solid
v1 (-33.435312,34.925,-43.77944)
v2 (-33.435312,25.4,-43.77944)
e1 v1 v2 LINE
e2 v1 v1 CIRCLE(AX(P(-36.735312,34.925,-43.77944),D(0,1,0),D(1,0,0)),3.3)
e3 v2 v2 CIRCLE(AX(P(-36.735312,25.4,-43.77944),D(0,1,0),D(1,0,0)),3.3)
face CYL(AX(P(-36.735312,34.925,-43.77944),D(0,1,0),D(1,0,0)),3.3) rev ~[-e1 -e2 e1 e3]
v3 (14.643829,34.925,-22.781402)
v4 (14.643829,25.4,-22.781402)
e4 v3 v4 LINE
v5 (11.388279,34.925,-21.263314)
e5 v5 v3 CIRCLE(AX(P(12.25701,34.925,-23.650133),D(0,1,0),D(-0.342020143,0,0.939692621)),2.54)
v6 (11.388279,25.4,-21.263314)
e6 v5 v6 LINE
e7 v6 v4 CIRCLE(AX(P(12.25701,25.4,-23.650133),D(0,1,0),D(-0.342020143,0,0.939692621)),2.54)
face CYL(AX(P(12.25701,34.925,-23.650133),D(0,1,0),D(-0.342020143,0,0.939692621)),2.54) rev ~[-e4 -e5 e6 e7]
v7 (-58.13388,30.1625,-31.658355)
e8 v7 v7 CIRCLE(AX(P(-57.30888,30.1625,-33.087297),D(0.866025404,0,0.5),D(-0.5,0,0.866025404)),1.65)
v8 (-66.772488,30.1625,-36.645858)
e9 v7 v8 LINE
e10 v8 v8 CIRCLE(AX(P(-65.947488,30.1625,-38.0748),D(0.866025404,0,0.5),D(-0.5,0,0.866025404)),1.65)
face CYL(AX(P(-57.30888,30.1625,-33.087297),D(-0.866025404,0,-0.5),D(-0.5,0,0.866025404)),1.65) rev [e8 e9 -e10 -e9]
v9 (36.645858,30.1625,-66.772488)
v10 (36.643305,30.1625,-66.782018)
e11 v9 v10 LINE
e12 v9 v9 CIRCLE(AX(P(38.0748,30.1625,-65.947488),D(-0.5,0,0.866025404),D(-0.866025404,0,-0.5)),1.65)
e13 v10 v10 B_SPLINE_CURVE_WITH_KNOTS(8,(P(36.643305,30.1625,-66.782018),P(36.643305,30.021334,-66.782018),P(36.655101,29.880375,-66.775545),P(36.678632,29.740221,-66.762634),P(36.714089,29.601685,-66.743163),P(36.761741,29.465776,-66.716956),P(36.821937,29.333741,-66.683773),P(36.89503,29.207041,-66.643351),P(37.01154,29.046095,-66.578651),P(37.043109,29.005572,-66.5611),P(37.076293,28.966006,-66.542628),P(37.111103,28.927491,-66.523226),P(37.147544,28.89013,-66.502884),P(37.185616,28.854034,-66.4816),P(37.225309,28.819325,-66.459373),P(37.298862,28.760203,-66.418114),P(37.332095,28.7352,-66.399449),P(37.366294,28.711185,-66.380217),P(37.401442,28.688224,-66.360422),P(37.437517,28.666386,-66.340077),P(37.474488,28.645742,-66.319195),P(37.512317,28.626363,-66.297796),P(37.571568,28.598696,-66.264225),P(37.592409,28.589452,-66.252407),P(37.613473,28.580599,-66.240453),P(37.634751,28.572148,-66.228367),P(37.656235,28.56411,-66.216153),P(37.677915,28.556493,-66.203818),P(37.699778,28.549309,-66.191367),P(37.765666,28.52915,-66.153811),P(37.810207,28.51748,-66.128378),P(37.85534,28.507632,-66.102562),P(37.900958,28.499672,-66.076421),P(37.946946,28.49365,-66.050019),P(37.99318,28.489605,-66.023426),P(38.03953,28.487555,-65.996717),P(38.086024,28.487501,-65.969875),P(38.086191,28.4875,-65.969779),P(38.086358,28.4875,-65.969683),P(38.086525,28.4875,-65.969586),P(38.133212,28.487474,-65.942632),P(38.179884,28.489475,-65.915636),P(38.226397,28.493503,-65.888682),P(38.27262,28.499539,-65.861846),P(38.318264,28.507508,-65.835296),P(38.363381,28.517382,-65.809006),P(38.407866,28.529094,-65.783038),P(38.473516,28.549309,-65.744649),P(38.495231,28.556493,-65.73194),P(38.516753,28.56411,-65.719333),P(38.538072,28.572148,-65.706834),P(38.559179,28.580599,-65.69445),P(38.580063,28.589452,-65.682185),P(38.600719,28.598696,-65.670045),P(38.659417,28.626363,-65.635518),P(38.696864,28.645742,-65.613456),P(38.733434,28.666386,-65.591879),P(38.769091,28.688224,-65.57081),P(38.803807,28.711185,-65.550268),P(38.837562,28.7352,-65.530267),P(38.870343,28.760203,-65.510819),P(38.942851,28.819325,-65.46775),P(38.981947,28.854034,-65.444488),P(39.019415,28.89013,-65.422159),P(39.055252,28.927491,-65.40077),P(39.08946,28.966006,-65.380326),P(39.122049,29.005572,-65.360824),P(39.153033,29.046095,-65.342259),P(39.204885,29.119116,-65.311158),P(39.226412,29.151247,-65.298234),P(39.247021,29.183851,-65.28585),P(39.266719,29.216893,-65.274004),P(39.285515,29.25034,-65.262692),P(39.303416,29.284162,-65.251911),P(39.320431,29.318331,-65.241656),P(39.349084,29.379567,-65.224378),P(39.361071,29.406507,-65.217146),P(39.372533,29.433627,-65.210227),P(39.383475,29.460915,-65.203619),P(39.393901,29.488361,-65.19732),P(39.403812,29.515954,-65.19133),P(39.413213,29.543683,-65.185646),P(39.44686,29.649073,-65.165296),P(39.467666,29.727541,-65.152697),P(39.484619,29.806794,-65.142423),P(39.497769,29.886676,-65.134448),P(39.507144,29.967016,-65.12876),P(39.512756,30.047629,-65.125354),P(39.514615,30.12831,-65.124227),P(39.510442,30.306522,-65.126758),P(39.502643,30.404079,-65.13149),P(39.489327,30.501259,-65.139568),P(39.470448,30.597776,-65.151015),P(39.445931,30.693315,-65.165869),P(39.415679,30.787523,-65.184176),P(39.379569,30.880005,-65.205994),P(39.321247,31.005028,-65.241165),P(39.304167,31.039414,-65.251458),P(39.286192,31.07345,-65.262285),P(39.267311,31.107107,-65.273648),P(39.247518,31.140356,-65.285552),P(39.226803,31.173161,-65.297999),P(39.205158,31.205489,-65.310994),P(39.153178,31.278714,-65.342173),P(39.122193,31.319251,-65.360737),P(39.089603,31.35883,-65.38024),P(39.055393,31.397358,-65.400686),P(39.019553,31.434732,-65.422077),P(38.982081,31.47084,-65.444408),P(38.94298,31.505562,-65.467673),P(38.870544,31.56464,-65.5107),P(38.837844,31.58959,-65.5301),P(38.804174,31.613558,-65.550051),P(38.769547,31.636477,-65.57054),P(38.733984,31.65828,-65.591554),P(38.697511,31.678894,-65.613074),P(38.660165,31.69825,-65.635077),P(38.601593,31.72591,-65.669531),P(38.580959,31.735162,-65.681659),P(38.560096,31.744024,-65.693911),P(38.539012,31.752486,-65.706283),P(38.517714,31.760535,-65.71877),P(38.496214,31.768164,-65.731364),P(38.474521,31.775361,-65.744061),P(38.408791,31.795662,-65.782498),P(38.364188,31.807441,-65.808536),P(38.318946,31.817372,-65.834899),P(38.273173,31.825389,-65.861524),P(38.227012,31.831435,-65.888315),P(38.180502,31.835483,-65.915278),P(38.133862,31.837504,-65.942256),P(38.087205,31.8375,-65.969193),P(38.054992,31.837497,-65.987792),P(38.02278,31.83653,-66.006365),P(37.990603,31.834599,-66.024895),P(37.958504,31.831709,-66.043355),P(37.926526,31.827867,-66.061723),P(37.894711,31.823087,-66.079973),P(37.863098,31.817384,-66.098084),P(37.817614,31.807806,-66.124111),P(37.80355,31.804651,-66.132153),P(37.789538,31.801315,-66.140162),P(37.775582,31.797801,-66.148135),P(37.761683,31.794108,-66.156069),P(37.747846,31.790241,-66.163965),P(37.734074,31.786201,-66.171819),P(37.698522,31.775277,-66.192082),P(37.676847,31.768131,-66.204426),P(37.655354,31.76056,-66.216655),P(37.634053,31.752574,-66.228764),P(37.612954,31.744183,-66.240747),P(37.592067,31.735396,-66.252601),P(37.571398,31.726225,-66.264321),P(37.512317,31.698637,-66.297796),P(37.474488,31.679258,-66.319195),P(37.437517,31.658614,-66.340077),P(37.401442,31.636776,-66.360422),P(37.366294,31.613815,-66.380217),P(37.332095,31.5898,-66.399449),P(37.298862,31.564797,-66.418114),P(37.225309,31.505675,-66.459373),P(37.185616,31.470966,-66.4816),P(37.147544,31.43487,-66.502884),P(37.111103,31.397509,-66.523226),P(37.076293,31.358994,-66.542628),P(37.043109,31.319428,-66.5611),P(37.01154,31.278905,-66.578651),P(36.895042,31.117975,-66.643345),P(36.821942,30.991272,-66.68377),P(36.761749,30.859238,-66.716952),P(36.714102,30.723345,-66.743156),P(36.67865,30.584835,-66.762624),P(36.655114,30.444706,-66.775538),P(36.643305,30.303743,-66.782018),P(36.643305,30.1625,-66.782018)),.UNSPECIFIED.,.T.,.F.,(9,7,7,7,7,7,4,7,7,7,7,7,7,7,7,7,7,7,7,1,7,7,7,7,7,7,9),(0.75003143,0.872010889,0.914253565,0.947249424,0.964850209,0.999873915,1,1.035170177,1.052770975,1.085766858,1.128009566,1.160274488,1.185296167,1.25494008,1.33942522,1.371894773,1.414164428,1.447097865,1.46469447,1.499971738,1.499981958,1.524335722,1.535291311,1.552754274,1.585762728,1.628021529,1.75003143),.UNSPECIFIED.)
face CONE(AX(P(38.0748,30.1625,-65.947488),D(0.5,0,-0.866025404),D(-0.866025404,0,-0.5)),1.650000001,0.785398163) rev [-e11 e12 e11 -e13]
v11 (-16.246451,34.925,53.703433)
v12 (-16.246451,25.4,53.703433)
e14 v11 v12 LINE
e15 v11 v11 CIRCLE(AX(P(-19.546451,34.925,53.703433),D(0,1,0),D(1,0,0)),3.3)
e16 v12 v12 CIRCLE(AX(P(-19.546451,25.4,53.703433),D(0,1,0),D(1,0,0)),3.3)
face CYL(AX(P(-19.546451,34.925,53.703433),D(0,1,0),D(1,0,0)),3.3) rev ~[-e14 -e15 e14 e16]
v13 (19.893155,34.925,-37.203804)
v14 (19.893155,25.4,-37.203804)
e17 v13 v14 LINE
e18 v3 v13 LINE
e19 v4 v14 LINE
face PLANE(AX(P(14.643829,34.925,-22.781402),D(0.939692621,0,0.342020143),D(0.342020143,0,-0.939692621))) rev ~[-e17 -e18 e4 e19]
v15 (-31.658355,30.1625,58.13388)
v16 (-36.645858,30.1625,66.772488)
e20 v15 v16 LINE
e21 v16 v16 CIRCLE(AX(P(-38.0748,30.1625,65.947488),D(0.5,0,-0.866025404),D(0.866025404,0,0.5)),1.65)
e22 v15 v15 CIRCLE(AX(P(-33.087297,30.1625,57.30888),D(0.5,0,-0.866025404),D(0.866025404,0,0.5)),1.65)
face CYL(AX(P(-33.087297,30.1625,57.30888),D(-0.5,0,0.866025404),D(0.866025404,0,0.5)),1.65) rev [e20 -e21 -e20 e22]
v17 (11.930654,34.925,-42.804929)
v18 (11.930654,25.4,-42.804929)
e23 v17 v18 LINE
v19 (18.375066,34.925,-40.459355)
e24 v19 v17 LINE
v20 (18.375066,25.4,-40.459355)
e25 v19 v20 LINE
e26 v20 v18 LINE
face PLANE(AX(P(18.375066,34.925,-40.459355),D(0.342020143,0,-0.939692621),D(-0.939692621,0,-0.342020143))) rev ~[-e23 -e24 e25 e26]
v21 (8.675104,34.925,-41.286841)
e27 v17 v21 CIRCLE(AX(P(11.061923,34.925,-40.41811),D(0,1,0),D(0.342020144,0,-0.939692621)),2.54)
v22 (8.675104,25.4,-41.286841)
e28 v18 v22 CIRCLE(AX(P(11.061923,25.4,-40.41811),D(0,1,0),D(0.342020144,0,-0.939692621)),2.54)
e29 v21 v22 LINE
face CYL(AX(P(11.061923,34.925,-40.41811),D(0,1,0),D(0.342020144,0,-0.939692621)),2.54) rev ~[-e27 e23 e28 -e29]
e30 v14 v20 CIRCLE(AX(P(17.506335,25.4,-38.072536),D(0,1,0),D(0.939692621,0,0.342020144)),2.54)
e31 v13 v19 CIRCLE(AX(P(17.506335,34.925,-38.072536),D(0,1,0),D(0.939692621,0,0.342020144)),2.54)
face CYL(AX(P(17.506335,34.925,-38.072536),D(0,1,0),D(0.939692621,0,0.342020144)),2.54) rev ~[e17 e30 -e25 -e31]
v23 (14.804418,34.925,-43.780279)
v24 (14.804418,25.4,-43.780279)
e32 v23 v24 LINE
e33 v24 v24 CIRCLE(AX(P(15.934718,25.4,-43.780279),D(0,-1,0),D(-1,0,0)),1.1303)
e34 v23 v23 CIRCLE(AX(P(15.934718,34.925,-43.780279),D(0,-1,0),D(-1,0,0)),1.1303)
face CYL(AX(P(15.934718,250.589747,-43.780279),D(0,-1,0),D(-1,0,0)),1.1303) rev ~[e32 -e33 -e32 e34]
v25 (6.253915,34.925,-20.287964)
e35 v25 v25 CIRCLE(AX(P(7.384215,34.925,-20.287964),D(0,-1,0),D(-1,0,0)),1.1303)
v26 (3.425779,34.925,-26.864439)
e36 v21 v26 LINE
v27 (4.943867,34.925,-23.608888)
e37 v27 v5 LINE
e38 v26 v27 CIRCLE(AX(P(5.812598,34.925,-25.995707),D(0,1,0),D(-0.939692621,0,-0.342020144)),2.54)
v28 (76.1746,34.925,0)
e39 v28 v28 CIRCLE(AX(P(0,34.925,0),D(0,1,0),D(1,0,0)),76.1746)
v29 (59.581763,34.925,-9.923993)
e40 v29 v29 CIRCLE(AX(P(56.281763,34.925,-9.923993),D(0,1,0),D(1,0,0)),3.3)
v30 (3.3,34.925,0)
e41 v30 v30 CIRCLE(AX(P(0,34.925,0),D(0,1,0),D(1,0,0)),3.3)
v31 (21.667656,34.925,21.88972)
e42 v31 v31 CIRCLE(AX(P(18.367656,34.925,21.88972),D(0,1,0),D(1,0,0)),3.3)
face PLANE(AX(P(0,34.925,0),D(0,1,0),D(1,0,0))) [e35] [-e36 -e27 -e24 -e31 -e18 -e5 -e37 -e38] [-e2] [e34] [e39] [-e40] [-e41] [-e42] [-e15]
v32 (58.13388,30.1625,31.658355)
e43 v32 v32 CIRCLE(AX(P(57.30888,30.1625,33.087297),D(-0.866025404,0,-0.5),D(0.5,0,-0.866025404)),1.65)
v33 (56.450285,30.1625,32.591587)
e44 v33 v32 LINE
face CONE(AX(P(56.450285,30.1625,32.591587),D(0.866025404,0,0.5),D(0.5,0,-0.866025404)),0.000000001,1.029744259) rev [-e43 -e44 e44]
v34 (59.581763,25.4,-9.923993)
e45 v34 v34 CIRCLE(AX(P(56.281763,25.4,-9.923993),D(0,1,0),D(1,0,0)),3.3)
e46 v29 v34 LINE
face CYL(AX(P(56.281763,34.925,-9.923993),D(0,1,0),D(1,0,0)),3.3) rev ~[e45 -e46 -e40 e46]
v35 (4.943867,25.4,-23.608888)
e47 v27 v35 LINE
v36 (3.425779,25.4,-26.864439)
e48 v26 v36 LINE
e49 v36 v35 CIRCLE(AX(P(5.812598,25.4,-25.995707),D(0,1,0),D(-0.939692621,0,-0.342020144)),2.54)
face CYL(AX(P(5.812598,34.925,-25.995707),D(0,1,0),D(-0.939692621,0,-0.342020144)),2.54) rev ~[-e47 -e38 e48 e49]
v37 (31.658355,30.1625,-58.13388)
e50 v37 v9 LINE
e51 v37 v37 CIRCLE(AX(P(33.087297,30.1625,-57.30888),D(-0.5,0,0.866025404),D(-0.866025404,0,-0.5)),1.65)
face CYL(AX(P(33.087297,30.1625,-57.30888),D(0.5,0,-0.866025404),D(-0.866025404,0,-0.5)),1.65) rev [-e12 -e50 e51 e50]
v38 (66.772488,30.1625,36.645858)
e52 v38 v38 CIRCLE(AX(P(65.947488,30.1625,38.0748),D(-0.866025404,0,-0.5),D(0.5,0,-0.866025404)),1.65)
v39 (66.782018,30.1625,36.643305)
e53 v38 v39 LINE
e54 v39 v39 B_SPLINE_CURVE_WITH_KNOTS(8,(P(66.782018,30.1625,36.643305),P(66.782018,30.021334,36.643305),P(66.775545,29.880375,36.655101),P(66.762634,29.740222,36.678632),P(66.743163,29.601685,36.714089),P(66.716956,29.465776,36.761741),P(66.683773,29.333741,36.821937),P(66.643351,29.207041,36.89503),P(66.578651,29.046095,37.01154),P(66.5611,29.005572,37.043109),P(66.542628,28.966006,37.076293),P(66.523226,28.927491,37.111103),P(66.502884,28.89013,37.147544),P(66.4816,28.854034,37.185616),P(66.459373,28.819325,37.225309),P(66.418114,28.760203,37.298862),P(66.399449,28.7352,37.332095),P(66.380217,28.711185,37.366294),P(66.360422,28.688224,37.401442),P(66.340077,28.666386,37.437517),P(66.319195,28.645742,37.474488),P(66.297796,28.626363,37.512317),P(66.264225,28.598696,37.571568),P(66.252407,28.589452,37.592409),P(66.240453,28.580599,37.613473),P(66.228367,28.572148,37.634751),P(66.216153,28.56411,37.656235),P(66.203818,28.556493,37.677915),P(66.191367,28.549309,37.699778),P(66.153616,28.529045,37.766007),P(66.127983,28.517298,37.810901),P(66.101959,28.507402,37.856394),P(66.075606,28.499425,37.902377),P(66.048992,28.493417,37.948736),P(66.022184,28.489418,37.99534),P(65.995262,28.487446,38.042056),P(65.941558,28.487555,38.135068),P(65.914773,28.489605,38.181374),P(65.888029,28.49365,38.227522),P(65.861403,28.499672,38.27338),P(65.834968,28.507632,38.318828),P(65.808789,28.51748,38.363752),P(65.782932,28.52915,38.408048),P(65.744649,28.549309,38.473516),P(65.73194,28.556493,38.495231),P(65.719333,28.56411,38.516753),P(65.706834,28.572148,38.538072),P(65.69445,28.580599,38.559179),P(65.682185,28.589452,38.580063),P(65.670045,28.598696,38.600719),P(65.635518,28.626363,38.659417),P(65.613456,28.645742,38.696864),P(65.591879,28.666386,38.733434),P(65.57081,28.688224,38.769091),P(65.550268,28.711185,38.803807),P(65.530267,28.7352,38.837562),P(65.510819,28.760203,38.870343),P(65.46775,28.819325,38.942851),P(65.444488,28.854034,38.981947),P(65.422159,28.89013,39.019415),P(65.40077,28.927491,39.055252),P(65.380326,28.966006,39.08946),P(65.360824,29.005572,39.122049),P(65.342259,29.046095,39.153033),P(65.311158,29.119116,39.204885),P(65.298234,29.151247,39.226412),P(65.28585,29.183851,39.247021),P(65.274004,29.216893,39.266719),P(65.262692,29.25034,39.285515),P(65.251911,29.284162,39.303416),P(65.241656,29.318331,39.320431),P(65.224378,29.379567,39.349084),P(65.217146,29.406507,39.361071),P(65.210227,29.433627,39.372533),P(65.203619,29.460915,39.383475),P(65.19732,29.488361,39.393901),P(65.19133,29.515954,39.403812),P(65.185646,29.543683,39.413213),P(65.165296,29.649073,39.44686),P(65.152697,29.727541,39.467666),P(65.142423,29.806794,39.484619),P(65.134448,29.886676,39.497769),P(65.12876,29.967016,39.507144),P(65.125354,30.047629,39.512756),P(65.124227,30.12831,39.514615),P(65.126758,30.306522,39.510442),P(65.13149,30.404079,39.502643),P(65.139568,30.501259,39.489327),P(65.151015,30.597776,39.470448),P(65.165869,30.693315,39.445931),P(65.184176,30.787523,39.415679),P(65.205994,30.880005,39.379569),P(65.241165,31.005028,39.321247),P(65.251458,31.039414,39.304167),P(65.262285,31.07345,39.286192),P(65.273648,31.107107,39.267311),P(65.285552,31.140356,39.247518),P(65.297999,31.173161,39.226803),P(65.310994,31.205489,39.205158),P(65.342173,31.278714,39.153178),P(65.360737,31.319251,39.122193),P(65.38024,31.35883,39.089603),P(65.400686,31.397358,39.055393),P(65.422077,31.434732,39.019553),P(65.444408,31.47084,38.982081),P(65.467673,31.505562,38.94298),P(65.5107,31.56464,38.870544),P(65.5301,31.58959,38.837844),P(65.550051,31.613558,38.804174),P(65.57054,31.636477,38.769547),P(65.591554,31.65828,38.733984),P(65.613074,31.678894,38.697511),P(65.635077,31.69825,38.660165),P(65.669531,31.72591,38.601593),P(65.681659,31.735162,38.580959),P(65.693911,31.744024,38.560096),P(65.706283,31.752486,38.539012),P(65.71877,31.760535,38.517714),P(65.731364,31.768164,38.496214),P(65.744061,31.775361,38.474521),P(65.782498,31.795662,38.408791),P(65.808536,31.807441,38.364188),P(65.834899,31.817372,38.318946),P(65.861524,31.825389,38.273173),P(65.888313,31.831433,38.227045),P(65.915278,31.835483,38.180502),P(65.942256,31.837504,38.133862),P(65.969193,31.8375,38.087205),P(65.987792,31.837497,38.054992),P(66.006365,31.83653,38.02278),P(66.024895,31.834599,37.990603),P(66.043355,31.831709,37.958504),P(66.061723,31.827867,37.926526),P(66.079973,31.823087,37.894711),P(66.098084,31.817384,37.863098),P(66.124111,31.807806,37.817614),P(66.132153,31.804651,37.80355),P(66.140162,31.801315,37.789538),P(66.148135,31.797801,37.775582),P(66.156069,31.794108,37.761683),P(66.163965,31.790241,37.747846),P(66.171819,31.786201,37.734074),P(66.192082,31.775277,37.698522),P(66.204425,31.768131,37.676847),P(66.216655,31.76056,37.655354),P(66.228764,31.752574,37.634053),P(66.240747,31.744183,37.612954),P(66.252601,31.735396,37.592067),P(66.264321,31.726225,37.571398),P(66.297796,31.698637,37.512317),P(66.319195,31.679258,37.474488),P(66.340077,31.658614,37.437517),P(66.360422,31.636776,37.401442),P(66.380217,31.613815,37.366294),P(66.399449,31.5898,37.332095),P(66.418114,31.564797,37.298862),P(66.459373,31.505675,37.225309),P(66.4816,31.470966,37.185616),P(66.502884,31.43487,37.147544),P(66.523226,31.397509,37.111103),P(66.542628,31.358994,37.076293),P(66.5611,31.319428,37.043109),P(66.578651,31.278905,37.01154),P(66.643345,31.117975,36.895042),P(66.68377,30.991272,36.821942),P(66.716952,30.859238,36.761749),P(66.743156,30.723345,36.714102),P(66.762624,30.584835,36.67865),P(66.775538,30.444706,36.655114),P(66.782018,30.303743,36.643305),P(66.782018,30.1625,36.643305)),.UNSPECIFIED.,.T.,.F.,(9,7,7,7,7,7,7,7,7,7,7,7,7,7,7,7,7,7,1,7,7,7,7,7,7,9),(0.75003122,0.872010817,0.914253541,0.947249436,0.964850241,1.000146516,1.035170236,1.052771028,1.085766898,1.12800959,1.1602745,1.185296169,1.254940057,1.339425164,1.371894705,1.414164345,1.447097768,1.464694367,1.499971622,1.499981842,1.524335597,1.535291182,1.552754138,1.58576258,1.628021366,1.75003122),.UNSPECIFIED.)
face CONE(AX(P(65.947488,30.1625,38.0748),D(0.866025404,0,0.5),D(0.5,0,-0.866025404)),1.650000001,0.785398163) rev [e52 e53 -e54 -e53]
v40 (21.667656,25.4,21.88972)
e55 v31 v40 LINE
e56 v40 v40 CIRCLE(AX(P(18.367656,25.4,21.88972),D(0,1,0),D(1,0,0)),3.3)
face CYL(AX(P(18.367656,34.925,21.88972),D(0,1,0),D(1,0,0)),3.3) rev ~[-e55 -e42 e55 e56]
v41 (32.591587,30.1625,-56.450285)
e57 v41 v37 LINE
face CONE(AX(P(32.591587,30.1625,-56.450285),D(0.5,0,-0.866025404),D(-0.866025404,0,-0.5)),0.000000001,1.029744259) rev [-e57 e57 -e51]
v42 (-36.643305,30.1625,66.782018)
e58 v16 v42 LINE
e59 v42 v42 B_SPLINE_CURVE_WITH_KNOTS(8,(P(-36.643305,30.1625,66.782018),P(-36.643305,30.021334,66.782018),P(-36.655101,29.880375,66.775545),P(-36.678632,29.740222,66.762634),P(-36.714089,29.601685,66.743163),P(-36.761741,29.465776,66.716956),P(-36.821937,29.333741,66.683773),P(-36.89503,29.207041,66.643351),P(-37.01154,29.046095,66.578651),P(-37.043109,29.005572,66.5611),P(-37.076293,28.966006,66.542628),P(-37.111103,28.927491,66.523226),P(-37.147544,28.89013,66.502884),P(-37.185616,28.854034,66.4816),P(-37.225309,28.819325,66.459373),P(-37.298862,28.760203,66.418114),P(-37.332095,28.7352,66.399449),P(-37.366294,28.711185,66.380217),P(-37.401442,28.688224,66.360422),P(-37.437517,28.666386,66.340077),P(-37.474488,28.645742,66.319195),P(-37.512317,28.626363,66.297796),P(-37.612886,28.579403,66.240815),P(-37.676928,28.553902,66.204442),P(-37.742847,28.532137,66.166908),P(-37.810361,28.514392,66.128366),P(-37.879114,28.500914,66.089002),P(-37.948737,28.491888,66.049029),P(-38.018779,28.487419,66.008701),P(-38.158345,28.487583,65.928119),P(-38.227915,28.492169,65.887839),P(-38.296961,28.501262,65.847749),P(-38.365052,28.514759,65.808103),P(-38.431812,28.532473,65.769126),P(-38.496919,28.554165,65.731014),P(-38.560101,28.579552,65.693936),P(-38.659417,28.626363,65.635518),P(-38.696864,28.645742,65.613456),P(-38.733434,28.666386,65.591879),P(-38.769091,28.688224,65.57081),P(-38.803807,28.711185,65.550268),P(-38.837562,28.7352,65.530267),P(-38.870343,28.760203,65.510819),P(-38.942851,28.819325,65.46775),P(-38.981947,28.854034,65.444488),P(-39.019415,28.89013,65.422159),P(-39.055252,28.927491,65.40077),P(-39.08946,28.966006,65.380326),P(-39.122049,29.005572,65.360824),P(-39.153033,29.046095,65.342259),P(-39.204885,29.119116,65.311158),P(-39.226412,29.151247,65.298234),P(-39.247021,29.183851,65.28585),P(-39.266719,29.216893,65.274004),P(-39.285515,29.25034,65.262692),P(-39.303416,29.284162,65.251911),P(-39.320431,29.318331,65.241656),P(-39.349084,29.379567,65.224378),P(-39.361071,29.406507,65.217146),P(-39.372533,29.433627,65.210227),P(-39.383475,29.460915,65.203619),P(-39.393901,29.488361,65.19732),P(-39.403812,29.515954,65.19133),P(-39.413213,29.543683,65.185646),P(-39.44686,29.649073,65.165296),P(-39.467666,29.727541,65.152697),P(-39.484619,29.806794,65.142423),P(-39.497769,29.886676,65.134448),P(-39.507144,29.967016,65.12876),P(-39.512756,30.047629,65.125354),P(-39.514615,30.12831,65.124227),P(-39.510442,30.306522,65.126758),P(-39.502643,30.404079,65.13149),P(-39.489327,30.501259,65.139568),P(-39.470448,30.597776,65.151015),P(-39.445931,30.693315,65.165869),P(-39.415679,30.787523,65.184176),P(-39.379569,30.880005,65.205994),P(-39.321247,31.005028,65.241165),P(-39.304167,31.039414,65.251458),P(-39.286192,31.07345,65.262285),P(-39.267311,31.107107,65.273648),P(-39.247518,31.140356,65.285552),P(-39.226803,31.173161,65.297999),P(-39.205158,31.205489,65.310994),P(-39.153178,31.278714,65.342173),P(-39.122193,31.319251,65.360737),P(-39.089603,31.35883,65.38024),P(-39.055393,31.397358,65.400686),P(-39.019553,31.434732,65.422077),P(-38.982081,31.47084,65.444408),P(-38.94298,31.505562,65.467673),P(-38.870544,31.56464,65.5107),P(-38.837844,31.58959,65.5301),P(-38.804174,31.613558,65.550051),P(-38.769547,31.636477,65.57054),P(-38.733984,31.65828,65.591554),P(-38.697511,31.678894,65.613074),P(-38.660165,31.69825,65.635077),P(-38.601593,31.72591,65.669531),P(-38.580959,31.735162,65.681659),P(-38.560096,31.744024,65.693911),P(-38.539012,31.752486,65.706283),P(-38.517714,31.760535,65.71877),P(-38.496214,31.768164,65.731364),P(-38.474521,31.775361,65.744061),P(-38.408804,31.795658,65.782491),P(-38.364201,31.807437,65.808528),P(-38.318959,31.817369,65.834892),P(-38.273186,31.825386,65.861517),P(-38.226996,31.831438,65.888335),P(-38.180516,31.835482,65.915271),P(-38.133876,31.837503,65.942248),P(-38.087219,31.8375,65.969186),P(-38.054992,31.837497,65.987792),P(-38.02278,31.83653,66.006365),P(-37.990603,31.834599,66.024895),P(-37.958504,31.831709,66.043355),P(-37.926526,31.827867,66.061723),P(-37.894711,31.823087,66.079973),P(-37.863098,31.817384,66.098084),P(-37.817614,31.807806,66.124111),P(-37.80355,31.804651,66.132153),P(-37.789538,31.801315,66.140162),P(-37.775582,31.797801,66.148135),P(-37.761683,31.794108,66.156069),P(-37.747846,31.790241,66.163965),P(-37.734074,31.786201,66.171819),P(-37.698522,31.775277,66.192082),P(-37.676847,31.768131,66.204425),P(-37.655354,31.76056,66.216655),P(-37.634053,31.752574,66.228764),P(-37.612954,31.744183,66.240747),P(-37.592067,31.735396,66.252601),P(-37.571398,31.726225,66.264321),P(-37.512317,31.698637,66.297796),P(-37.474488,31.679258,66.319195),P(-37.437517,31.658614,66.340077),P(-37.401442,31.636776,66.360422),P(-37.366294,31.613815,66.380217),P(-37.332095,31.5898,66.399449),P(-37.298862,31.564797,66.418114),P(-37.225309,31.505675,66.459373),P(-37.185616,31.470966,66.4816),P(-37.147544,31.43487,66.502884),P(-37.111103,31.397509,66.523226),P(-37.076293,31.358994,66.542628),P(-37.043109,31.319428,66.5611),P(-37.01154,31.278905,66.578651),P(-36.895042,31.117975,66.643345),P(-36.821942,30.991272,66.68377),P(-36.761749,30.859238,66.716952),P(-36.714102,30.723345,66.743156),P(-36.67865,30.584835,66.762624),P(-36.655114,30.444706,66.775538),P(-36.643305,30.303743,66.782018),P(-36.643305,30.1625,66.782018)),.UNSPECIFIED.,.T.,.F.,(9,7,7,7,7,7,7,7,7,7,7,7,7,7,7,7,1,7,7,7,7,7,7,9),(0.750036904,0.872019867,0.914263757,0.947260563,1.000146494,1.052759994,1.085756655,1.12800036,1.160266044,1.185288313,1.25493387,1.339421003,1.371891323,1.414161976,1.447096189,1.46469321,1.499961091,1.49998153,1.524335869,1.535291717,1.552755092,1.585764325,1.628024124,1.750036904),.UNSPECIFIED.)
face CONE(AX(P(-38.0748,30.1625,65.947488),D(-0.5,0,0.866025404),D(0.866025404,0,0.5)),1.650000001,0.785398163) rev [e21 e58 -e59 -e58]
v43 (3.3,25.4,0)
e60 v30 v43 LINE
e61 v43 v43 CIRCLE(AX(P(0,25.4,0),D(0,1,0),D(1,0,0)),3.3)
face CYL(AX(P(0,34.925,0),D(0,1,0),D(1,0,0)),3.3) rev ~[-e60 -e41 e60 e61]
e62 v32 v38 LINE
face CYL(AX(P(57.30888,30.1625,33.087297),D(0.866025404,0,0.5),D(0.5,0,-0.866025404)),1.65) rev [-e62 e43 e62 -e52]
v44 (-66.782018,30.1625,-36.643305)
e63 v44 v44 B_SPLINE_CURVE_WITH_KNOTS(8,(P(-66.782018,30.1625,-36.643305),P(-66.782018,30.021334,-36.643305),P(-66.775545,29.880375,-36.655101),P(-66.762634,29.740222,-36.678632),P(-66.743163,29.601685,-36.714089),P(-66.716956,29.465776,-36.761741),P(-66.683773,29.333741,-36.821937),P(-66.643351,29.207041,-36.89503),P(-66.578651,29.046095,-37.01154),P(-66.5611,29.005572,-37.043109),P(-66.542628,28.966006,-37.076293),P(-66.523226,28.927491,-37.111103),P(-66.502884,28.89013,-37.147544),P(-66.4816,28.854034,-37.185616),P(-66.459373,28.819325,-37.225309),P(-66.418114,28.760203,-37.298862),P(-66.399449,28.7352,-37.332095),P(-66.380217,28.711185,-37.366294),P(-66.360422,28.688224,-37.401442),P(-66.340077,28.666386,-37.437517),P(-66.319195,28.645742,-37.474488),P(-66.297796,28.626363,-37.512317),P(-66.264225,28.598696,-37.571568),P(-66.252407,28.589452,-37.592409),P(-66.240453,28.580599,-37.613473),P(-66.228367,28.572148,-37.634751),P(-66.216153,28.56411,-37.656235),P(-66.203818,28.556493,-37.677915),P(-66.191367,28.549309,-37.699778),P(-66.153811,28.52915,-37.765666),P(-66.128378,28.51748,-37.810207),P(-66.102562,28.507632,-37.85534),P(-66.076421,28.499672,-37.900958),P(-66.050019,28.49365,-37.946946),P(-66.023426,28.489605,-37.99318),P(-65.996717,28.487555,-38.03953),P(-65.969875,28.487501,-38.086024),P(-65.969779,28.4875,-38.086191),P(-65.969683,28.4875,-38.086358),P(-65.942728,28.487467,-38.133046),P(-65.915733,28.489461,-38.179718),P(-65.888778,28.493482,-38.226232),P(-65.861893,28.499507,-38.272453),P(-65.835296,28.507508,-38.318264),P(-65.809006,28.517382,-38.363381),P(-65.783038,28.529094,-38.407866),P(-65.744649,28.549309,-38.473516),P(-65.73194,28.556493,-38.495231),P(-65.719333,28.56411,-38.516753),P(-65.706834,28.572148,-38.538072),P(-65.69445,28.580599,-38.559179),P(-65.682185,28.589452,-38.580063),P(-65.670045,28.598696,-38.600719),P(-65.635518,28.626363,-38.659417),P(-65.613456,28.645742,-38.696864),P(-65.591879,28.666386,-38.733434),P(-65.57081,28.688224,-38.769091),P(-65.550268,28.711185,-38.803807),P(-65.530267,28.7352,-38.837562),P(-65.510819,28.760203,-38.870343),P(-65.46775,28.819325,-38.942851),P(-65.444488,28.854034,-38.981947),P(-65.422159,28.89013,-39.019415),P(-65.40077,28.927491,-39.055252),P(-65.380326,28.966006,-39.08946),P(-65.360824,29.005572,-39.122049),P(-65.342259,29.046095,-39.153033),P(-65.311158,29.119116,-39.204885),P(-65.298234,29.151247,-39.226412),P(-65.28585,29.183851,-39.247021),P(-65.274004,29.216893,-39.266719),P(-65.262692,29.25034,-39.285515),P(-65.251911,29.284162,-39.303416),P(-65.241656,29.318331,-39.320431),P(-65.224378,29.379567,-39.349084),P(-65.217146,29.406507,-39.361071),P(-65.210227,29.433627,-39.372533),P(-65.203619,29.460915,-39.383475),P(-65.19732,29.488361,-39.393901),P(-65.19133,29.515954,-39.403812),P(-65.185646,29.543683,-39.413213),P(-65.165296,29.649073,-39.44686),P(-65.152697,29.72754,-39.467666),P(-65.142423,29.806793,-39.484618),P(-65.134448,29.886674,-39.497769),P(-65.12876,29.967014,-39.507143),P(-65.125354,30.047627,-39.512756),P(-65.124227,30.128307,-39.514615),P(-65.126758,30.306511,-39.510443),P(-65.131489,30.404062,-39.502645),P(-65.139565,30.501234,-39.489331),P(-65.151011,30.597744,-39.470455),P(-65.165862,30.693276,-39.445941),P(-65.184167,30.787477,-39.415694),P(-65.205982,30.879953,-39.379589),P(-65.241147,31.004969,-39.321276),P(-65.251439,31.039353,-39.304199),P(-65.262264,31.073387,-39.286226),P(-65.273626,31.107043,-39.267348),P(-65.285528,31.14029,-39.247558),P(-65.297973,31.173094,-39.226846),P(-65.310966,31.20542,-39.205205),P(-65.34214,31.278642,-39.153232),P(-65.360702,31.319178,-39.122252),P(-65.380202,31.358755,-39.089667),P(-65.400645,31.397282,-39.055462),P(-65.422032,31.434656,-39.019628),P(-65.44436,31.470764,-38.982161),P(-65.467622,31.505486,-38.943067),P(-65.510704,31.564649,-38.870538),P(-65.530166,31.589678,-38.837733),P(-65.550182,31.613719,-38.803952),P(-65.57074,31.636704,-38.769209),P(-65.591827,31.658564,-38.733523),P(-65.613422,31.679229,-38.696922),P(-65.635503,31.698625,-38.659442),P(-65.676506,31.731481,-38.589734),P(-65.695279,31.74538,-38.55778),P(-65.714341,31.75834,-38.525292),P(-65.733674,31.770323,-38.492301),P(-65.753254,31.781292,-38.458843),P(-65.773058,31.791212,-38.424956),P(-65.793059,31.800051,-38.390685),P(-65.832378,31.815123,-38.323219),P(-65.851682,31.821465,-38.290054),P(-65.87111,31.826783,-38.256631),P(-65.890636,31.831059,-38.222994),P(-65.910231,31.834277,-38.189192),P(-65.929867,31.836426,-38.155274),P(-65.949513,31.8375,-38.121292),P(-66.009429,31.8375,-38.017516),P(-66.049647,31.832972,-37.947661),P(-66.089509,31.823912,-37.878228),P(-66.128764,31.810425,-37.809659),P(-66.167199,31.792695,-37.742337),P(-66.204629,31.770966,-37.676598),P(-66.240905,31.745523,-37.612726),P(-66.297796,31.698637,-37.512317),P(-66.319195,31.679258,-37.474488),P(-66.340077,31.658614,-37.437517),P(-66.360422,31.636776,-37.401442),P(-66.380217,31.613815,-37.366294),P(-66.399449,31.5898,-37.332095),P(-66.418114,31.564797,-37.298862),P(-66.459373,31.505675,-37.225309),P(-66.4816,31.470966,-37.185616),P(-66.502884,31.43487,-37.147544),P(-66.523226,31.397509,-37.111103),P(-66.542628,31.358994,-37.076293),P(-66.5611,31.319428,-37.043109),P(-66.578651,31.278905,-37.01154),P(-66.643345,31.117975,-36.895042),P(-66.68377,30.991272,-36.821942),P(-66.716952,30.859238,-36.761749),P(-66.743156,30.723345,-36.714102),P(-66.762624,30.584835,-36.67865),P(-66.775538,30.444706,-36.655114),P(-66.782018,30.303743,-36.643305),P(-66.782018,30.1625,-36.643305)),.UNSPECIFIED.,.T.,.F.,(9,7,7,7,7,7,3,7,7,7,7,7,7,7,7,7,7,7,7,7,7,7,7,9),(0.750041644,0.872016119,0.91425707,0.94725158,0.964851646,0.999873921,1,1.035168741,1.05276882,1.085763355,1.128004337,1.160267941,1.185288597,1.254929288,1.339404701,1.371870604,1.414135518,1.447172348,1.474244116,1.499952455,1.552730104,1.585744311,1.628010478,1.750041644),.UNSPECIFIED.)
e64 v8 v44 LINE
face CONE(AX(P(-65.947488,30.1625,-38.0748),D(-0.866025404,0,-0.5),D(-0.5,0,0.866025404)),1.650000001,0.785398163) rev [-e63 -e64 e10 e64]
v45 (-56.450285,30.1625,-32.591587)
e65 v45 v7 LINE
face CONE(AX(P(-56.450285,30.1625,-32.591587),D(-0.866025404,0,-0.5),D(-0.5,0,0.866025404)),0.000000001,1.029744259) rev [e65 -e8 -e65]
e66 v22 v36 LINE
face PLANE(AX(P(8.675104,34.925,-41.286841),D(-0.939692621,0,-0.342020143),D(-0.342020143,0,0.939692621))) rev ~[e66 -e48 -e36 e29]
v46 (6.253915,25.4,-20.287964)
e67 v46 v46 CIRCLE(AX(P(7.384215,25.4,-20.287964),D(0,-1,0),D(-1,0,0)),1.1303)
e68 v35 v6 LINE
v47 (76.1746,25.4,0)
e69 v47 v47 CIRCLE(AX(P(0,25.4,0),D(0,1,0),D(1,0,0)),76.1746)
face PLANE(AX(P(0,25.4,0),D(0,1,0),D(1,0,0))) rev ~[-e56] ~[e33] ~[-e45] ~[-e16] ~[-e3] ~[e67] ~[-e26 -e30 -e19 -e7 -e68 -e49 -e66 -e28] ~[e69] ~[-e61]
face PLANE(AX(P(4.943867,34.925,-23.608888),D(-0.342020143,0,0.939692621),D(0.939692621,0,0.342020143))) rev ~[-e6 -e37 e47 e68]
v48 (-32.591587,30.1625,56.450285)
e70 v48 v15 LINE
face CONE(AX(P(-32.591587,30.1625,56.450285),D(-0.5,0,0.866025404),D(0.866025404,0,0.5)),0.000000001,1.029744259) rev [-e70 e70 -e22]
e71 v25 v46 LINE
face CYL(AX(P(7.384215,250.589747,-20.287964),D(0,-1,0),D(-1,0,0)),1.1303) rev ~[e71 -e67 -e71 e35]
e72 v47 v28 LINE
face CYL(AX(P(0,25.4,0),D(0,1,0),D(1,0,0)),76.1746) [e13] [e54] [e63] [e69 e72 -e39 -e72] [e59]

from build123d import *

# Parameters (mm, degrees)
SKETCH1_R                 = 78.359
BOSS_EXTRUDE1_DEPTH       = 25.4
SKETCH6_R                 = 76.1746
BOSS_EXTRUDE5_DEPTH       = 9.525
SKETCH7_R                 = 76.1746
BOSS_EXTRUDE6_DEPTH       = 9.525
SKETCH8_R                 = 73.025
CUT_EXTRUDE5_DEPTH        = 34.925
CUT_EXTRUDE3_START        = 25.4
SKETCH1_7_R               = 78.359
SKETCH1_7_R_2             = 76.1746
CUT_EXTRUDE3_DEPTH        = 9.525
CIRPATTERN2_COUNT         = 3
SKETCH4_R                 = 73.025
BOSS_EXTRUDE4_DEPTH       = 9.525
SKETCH9_R                 = 3.3
CUT_EXTRUDE6_DEPTH        = 45.45
SKETCH10_R                = 82.322787435
CUT_EXTRUDE7_DEPTH        = 35.925
TAP_DRILL_FOR_4_40_TAP1_D = 2.2606
CUT_EXTRUDE9_DEPTH        = 10.525
CIRPATTERN3_COUNT         = 4


with BuildPart() as part:
    # Sketch1 → Boss-Extrude1 (new body)
    with BuildSketch(Plane(origin=(0, 0, 0), x_dir=(1, 0, 0), z_dir=(0, 1, 0))):
        Circle(SKETCH1_R)
    extrude(amount=BOSS_EXTRUDE1_DEPTH)

    # Sketch6 → Boss-Extrude5 (add)
    with BuildSketch(Plane(origin=(0, 25.4, 0), x_dir=(1, 0, 0), z_dir=(0, 1, 0))):
        Circle(SKETCH6_R)
    extrude(amount=BOSS_EXTRUDE5_DEPTH)

    # Sketch7 → Boss-Extrude6 (add)
    with BuildSketch(Plane.XZ):
        Circle(SKETCH7_R)
    extrude(amount=BOSS_EXTRUDE6_DEPTH)

    # Sketch8 → Cut-Extrude5 (cut)
    with BuildSketch(Plane.XZ.offset(9.525)):
        Circle(SKETCH8_R)
    extrude(amount=-CUT_EXTRUDE5_DEPTH, mode=Mode.SUBTRACT)

    # Sketch1_7 → Cut-Extrude3 (cut)
    with BuildSketch(Plane(origin=(0, 0, 0), x_dir=(1, 0, 0), z_dir=(0, 1, 0)).offset(CUT_EXTRUDE3_START)):
        Circle(SKETCH1_7_R)
        Circle(SKETCH1_7_R_2, mode=Mode.SUBTRACT)
    cut_extrude3 = extrude(amount=-CUT_EXTRUDE3_DEPTH, mode=Mode.SUBTRACT)

    # CirPattern2: Cut-Extrude3 ×3 about axis
    cirpattern2_axis = Axis((0, 0, 0), (0, 1, 0))
    for i in range(1, CIRPATTERN2_COUNT):
        add(cut_extrude3.rotate(cirpattern2_axis, i * 360 / CIRPATTERN2_COUNT), mode=Mode.SUBTRACT)

    # Sketch4 → Boss-Extrude4 (add)
    with BuildSketch(Plane(origin=(0, 34.925, 0), x_dir=(1, 0, 0), z_dir=(0, 1, 0))):
        Circle(SKETCH4_R)
    extrude(amount=-BOSS_EXTRUDE4_DEPTH)

    # Sketch9 → Cut-Extrude6 (cut, through all)
    with BuildSketch(Plane(origin=(0, 34.925, 0), x_dir=(1, 0, 0), z_dir=(0, 1, 0))):
        Circle(SKETCH9_R)
        with Locations((-19.546451191, -53.703433278)):
            Circle(SKETCH9_R)
        with Locations((-36.735311894, 43.779439924)):
            Circle(SKETCH9_R)
        with Locations((56.281763085, 9.923993354)):
            Circle(SKETCH9_R)
        with Locations((18.367655947, -21.889719962)):
            Circle(SKETCH9_R)
    extrude(amount=-CUT_EXTRUDE6_DEPTH, mode=Mode.SUBTRACT)

    # Sketch10 → Cut-Extrude7 (cut, through all)
    with BuildSketch(Plane(origin=(0, 25.4, 0), x_dir=(1, 0, 0), z_dir=(0, 1, 0))):
        Circle(SKETCH10_R)
    extrude(amount=-CUT_EXTRUDE7_DEPTH, mode=Mode.SUBTRACT)

    # Tap Drill for _4-40 Tap1 (through all)
    with Locations(Plane(origin=(0, 34.925, 0), x_dir=(1, 0, 0), z_dir=(0, 1, 0))):
        with Locations((7.384214894, 20.287963683), (15.934718491, 43.780279238)):
            Hole(TAP_DRILL_FOR_4_40_TAP1_D / 2)

    # Sketch14 → Cut-Extrude9 (cut, through all)
    with BuildSketch(Plane(origin=(0, 34.925, 0), x_dir=(1, 0, 0), z_dir=(0, 1, 0))):
        with BuildLine():
            Line((14.64382936, 22.781402035), (19.893154532, 37.203804415))
            ThreePointArc((19.893154532, 37.203804415), (19.808357055, 39.145985964), (18.37506644, 40.459354836))
            Line((18.37506644, 40.459354836), (11.930654446, 42.804928978))
            ThreePointArc((11.930654446, 42.804928978), (9.988472897, 42.720131501), (8.675104025, 41.286840886))
            Line((8.675104025, 41.286840886), (3.425778853, 26.864438506))
            ThreePointArc((3.425778853, 26.864438506), (3.51057633, 24.922256957), (4.943866945, 23.608888085))
            Line((4.943866945, 23.608888085), (11.388278939, 21.263313942))
            ThreePointArc((11.388278939, 21.263313942), (13.330460488, 21.34811142), (14.64382936, 22.781402035))
        make_face()
    extrude(amount=-CUT_EXTRUDE9_DEPTH, mode=Mode.SUBTRACT)

    # Sketch19 → Tap Drill for M4x0.7 Tap1 (revolve, cut)
    with BuildSketch(Plane(origin=(-38.0873, 30.1625, 65.969138723), x_dir=(0.866025404, 0, 0.5), z_dir=(0, 1, 0))):
        Polygon((0, 0), (0, 10.991425421), (1.65, 10.0000054), (1.65, 0.025), (1.675, 0), align=None)
    tap_drill_for_m4x0_7_tap1 = revolve(axis=Axis((-41.2623, 30.1625, 71.468400037), (0.5, 0, -0.866025404)), mode=Mode.SUBTRACT)

    # CirPattern3: Tap Drill for M4x0.7 Tap1 ×4 about axis
    cirpattern3_axis = Axis((0, 34.925, 0), (0, 1, 0))
    for i in range(1, CIRPATTERN3_COUNT):
        add(tap_drill_for_m4x0_7_tap1.rotate(cirpattern3_axis, i * 360 / CIRPATTERN3_COUNT), mode=Mode.SUBTRACT)


solid = part.part
